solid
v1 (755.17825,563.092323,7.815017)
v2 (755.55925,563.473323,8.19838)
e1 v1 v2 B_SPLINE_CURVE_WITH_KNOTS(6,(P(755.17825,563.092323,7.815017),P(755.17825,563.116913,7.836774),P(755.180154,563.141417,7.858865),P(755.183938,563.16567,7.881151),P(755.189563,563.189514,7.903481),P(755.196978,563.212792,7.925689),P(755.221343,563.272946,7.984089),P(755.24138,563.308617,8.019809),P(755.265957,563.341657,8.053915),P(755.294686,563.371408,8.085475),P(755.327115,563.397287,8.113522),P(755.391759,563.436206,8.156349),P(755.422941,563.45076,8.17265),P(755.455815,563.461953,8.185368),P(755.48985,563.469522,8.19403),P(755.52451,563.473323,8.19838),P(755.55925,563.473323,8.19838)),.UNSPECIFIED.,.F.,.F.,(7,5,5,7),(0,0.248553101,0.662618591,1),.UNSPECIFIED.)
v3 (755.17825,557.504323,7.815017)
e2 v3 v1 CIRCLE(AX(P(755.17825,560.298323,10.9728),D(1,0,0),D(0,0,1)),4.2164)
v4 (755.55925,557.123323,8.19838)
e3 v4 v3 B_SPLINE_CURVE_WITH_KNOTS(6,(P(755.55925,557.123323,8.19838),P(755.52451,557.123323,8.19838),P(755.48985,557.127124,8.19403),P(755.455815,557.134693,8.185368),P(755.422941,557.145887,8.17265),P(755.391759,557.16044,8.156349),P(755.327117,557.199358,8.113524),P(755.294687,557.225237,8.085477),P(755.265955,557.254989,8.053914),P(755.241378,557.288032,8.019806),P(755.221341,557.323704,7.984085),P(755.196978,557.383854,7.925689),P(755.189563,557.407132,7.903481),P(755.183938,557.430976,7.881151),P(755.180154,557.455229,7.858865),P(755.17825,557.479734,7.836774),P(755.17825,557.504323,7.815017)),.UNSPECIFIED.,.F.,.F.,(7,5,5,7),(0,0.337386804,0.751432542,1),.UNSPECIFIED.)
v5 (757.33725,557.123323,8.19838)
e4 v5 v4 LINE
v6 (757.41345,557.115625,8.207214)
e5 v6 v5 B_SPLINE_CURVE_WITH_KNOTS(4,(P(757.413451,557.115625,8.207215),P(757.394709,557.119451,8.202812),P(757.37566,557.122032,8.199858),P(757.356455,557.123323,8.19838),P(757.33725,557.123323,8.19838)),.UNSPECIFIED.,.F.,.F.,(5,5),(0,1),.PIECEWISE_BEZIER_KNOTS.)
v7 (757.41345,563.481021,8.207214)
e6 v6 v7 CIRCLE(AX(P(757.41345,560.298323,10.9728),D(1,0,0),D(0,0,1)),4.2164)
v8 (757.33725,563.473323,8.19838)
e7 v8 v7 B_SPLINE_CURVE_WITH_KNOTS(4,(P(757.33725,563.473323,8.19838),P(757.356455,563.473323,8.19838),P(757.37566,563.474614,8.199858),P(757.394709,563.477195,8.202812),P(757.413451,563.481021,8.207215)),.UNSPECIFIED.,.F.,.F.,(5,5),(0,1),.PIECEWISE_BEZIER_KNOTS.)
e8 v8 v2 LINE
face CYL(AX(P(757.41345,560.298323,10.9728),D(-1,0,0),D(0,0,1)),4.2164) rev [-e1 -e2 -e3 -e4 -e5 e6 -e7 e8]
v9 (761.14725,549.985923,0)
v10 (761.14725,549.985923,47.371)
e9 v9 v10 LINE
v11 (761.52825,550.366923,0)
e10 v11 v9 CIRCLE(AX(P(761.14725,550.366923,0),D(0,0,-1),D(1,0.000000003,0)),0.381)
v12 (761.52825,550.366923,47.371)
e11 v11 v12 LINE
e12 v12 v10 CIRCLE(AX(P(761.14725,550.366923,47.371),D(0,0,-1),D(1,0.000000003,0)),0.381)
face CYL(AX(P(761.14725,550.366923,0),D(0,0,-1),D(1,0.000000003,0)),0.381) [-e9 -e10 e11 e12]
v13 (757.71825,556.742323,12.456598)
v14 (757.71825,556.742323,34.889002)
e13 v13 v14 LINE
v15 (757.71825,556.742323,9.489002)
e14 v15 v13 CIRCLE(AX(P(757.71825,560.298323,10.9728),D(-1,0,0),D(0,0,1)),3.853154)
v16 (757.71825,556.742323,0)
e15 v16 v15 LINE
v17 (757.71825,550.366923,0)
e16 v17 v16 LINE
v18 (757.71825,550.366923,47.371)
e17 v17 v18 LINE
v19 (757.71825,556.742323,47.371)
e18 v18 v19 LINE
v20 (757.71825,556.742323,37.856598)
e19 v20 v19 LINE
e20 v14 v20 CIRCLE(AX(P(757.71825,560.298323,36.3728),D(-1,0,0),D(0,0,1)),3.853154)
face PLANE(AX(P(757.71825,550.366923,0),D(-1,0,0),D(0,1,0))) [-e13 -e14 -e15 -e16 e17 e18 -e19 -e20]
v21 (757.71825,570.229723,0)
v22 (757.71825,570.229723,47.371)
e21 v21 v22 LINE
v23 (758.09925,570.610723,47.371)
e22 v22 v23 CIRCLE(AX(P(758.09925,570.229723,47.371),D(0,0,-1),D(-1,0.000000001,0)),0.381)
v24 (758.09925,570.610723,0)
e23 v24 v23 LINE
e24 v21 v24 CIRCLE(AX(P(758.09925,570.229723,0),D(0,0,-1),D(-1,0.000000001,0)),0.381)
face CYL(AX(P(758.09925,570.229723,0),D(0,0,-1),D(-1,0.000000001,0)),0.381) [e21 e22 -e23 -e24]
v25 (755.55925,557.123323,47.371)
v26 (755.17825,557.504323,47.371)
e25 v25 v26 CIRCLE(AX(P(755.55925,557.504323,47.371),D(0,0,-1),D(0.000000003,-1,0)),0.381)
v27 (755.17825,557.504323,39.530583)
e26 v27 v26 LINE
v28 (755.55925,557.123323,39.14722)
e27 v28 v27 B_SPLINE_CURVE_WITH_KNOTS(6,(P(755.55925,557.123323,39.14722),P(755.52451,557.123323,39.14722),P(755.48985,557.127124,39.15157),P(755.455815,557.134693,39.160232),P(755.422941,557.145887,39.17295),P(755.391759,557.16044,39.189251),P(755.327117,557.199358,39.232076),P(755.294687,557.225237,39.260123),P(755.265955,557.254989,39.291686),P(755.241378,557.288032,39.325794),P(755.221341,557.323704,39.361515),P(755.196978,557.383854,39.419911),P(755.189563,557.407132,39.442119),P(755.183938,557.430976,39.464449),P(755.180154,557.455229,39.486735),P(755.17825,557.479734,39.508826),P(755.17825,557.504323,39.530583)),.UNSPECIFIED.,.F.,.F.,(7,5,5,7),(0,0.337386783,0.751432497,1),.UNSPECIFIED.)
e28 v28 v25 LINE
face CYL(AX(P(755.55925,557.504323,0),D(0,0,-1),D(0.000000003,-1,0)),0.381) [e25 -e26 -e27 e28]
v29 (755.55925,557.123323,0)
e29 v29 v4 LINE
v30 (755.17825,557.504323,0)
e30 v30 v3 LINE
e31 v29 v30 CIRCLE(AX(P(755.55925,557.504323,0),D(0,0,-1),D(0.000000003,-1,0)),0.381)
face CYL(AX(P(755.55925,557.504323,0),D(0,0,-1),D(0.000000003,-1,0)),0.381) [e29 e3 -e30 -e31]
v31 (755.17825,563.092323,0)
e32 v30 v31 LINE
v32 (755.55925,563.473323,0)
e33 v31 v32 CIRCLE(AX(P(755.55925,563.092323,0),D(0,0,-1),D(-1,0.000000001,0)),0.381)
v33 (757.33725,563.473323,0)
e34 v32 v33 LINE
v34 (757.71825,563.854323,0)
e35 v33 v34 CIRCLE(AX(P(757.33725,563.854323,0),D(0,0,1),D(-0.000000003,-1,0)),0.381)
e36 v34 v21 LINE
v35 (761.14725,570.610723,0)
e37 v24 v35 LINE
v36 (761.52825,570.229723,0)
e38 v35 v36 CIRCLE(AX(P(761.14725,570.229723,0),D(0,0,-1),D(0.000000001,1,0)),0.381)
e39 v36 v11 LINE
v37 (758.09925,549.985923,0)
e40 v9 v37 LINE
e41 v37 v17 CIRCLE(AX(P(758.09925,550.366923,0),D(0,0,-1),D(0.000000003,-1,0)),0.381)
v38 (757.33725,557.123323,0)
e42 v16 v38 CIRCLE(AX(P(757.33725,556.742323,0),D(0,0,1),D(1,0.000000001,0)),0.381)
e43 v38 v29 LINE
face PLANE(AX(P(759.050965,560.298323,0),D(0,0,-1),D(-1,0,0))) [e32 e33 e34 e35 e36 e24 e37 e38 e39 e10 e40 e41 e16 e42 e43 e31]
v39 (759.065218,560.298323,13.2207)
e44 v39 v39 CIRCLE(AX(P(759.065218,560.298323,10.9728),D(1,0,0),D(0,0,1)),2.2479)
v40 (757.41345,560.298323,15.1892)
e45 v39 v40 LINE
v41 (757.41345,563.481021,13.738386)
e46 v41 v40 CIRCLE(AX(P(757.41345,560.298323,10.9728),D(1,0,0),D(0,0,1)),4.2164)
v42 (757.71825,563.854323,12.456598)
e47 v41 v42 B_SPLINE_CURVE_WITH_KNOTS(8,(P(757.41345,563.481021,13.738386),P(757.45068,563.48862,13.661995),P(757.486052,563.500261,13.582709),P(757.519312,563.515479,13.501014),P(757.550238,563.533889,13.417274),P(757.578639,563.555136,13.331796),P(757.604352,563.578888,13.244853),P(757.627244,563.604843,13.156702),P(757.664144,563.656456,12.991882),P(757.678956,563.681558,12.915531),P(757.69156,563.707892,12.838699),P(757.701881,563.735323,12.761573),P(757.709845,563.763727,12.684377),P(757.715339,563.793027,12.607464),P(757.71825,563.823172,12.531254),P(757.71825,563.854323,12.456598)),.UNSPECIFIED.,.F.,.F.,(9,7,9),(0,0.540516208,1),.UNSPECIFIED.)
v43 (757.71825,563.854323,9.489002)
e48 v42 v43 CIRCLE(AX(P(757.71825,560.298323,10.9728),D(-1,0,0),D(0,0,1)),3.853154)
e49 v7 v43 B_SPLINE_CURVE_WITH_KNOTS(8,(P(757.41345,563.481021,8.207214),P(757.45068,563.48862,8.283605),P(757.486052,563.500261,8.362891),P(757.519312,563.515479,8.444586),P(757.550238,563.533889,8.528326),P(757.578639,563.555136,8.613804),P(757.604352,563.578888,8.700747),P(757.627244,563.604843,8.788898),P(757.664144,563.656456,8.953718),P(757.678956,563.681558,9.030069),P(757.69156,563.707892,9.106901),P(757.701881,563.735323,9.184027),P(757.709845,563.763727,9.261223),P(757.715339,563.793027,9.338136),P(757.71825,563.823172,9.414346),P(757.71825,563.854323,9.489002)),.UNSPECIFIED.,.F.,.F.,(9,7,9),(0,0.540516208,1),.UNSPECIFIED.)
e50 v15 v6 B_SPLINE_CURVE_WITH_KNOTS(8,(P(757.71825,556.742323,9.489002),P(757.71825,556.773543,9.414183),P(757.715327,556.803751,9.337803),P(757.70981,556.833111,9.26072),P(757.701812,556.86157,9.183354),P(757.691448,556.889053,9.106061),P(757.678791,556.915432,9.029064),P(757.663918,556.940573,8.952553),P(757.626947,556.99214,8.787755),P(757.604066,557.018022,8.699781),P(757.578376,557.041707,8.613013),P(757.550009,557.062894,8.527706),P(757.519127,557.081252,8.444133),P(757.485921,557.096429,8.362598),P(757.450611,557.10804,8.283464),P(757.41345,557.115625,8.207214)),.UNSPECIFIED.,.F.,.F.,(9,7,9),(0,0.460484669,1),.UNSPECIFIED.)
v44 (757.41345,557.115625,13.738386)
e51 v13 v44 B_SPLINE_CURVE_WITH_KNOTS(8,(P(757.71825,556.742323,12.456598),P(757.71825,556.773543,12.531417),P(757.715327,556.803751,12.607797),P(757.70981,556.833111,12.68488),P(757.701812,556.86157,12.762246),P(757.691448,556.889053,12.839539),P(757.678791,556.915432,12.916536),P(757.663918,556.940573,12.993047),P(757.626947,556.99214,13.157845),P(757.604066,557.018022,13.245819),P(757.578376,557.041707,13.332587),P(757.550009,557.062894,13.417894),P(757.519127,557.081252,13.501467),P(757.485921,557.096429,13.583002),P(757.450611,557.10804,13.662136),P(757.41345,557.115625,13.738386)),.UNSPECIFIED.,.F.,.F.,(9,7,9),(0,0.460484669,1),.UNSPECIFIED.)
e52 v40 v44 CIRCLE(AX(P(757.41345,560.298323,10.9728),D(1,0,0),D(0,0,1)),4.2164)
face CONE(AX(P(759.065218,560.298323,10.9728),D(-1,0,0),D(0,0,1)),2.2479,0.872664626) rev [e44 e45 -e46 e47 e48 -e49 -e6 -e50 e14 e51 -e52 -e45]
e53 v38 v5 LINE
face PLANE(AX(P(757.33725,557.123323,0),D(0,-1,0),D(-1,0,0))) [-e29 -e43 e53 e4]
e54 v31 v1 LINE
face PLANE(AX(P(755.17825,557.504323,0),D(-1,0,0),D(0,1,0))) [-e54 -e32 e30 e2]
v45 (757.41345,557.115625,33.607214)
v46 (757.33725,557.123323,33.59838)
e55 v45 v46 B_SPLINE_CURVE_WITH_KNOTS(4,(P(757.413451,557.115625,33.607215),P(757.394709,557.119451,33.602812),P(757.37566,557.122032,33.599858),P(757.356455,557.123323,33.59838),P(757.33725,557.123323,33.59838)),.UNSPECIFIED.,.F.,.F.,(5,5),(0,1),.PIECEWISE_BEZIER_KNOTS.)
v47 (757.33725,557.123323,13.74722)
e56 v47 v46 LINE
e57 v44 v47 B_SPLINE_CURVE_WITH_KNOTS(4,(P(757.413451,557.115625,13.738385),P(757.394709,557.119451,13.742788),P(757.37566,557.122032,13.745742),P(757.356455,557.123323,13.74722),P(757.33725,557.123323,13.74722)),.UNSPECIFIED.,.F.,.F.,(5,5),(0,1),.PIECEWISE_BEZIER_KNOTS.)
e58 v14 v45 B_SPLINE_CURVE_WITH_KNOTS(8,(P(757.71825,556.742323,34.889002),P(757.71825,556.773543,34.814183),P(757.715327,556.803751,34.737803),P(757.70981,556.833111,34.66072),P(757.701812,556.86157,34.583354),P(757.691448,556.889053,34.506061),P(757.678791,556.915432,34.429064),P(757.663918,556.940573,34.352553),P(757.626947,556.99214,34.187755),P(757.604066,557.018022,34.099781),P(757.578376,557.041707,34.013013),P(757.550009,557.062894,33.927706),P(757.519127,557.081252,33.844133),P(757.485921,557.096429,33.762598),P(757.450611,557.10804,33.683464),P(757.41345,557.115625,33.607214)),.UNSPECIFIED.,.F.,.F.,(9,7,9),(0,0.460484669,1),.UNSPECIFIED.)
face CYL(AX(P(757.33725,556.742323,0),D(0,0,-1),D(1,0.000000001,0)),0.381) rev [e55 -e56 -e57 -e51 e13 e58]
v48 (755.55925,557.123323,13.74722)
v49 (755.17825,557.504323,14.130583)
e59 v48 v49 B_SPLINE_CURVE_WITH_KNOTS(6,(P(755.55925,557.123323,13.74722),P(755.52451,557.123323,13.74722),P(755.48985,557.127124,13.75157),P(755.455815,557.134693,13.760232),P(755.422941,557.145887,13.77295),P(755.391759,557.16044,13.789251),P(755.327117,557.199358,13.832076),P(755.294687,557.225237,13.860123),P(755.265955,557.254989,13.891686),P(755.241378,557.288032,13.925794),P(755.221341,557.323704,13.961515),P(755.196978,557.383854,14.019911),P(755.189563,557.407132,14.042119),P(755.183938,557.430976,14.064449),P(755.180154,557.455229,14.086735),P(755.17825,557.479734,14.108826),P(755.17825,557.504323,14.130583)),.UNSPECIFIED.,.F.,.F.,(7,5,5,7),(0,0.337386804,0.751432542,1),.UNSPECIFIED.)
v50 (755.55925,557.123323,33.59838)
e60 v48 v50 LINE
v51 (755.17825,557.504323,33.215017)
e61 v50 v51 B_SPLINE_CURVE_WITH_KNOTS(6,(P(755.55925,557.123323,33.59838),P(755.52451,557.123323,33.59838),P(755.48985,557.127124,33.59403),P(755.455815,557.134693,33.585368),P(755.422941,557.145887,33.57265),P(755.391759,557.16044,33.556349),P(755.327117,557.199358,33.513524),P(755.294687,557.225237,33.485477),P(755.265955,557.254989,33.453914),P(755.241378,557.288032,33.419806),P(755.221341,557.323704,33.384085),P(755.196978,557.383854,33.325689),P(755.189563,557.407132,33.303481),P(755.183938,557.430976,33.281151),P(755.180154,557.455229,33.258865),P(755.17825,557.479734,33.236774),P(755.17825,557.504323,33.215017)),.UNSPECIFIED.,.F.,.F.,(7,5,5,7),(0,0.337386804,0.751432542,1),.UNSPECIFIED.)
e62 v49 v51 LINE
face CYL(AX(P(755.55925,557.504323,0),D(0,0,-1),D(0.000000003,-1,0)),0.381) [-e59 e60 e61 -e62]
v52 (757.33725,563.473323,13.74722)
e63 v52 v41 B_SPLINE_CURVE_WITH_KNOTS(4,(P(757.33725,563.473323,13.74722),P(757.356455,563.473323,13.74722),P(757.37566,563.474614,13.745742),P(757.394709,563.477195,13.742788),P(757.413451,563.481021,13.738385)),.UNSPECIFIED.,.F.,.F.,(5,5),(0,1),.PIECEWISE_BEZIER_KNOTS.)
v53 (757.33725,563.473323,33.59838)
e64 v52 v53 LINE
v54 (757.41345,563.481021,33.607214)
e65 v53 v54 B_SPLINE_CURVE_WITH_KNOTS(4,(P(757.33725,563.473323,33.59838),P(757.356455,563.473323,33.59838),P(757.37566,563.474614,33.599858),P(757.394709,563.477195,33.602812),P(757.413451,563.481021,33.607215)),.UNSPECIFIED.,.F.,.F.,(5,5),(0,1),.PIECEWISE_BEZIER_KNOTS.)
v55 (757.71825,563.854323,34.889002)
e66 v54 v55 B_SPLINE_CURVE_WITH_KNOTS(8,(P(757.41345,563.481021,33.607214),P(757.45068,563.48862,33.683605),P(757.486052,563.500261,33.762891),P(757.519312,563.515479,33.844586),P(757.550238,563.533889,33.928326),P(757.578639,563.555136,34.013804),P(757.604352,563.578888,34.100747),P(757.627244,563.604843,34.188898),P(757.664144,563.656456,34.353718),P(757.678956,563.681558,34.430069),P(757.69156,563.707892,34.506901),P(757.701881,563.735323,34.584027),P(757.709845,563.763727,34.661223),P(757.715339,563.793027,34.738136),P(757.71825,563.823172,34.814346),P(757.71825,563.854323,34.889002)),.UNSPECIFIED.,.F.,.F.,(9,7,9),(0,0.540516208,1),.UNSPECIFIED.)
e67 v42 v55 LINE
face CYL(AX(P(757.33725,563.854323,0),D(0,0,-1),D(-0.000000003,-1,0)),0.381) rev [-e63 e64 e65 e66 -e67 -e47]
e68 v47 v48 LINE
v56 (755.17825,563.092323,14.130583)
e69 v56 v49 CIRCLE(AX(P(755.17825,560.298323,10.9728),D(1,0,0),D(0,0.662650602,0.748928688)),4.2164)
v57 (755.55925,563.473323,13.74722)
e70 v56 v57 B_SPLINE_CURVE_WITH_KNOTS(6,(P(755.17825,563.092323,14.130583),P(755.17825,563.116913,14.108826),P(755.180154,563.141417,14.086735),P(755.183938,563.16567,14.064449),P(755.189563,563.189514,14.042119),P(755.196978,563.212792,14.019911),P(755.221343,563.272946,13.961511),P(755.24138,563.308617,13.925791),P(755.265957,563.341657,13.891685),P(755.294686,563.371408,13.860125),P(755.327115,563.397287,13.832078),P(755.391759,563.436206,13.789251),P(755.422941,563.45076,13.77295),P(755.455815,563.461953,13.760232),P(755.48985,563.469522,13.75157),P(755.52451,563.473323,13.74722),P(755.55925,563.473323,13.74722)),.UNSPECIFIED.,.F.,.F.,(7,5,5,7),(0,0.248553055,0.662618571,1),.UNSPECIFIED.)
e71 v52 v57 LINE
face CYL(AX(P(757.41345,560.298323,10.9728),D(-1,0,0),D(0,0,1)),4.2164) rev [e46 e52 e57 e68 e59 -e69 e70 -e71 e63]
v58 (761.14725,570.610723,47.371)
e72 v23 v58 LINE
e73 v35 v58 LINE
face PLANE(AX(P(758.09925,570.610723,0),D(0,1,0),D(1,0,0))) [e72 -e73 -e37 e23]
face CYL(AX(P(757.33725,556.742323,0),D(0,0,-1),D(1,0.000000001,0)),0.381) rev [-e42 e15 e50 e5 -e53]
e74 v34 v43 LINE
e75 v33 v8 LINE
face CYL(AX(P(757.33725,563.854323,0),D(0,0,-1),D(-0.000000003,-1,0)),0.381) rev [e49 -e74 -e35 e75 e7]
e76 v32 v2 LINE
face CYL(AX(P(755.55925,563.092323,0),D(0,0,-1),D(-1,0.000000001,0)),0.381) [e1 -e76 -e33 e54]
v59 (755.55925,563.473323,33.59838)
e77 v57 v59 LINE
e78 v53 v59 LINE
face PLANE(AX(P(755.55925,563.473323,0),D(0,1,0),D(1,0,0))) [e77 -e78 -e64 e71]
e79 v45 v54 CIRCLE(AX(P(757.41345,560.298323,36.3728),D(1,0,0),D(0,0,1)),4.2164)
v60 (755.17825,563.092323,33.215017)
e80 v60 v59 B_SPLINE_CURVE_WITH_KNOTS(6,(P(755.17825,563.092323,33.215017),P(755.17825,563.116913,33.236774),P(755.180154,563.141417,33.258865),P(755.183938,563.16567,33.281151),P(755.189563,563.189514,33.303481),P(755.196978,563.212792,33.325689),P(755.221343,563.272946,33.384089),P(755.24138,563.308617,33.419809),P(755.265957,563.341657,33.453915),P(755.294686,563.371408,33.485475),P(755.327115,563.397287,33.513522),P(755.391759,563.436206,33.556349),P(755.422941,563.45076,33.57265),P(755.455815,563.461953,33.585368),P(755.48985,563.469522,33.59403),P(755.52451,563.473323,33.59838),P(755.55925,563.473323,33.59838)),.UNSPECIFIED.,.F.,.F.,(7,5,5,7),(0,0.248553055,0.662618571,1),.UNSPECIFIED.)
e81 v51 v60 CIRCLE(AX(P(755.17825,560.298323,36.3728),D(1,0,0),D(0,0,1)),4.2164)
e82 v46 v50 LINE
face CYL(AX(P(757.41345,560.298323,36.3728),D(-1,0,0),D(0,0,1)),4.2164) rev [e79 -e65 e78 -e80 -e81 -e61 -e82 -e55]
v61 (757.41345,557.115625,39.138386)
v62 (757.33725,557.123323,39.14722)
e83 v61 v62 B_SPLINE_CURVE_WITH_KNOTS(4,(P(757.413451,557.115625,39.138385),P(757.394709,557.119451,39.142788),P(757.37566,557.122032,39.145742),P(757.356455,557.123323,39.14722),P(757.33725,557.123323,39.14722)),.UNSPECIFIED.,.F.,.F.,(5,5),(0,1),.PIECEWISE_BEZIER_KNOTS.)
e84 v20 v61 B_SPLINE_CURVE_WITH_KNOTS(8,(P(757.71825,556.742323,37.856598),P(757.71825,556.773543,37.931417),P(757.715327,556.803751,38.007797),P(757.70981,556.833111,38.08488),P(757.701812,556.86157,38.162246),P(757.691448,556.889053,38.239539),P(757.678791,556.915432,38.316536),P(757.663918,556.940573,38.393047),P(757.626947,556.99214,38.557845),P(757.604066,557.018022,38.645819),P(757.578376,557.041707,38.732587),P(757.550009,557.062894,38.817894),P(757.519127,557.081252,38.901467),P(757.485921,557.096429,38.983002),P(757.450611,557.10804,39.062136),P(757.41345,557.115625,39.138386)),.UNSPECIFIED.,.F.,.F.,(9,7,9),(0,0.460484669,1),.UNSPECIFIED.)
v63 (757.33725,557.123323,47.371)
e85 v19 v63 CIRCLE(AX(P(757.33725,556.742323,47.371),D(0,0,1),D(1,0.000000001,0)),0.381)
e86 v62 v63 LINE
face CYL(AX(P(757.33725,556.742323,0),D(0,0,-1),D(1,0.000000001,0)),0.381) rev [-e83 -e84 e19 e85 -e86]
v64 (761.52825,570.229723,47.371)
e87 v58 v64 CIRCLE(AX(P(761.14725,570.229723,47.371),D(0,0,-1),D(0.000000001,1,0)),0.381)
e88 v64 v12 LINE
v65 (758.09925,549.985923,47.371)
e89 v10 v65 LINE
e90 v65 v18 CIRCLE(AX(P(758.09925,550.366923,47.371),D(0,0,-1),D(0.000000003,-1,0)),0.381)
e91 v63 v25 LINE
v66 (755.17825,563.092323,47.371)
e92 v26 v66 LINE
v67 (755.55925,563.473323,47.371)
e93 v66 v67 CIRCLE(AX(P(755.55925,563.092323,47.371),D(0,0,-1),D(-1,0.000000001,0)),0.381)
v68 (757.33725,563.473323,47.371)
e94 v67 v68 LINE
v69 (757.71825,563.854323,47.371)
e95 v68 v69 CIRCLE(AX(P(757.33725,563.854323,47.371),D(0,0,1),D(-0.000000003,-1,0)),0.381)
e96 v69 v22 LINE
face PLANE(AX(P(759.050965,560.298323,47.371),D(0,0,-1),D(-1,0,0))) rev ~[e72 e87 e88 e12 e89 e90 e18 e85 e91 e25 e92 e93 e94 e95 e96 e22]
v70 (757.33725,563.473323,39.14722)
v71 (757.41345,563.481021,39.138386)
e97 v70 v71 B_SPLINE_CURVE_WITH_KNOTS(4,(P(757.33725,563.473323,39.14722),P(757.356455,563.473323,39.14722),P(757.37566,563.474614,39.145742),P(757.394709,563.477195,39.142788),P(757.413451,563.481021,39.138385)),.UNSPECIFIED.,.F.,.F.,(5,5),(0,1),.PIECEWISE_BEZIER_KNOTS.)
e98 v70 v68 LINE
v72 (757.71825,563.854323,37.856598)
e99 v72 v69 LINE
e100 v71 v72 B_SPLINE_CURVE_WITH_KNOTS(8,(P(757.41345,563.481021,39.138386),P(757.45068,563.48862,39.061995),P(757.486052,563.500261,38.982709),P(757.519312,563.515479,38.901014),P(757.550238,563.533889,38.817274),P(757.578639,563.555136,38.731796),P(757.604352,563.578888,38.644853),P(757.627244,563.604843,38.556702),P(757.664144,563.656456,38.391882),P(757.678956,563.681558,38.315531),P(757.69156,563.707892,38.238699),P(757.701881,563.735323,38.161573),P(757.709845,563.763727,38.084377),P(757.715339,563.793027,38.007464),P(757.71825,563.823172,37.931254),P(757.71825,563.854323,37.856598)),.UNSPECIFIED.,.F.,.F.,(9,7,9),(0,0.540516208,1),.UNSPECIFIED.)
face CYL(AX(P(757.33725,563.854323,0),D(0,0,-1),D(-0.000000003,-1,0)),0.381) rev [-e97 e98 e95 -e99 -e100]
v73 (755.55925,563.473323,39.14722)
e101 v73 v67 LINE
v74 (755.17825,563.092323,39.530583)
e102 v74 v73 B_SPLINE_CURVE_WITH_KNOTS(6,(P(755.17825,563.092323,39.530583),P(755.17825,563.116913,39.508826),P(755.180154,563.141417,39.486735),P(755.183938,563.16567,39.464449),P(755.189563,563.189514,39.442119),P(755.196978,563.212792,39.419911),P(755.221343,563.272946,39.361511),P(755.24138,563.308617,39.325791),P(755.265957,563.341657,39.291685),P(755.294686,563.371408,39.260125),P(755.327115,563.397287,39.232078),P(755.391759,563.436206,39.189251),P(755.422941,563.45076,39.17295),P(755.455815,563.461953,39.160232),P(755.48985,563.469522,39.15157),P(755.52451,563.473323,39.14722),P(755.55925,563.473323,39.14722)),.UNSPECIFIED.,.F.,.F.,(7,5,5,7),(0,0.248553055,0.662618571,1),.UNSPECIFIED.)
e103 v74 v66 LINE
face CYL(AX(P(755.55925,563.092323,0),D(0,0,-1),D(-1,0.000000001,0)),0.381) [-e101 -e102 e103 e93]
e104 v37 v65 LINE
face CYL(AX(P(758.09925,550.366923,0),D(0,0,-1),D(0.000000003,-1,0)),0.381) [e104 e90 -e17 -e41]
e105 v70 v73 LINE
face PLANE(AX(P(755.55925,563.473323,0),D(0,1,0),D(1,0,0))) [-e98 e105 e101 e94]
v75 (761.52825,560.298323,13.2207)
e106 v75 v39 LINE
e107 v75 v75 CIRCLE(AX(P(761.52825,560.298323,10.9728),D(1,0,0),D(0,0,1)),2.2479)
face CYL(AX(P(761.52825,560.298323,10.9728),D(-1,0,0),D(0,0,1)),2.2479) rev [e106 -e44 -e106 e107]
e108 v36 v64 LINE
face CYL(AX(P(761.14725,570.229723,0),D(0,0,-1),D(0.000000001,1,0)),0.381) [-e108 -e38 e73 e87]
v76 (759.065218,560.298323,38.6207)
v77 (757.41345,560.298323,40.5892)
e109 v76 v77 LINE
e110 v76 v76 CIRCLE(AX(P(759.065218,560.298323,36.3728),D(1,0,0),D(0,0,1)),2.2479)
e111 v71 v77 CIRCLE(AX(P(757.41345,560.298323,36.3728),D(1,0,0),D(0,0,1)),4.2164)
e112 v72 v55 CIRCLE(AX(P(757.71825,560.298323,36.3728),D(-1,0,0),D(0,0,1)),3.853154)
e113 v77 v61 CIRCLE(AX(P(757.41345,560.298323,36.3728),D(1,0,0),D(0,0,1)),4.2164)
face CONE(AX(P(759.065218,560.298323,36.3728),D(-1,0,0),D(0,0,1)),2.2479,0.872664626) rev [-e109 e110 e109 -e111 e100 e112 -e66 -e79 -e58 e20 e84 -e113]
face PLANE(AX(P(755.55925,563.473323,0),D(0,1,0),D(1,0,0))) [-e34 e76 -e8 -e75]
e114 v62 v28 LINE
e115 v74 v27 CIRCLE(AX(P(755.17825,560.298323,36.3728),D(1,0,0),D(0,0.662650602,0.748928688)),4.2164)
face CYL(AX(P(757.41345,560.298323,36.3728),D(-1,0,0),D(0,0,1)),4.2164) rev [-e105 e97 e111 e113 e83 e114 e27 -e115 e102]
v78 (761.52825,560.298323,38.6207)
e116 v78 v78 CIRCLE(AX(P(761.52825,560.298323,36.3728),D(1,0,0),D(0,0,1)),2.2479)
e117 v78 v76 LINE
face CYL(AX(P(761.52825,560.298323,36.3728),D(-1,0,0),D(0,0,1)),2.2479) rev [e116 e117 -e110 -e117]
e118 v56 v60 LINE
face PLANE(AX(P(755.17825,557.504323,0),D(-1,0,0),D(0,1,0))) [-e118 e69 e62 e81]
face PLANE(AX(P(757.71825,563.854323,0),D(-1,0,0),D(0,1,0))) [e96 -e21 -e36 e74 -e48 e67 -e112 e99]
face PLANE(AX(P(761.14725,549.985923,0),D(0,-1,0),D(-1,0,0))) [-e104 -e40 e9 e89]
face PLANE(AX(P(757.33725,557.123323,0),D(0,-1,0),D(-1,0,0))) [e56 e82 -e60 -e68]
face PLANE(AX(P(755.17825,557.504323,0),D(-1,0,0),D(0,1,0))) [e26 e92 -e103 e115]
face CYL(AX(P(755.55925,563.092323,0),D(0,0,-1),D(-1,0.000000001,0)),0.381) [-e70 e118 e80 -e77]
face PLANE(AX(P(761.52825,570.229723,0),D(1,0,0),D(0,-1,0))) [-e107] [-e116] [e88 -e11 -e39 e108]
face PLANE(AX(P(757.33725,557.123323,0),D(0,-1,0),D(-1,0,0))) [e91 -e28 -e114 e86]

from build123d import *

# Parameters (mm, degrees)
EXTRUDE1_DEPTH                            = 47.371
SKETCH2_R                                 = 1.3843
CUT_EXTRUDE1_DEPTH                        = 7.35
CSK_FOR_8_FLAT_HEAD_MACHINE_SCREW_2_COUNT = 2
CSK_FOR_8_FLAT_HEAD_MACHINE_SCREW_2_PITCH = 25.4


with BuildPart() as part:
    # Sketch1 → Extrude1 (new body)
    with BuildSketch(Plane.XY):
        with BuildLine():
            Line((761.528249985, 570.229723122), (761.528249985, 550.366923122))
            ThreePointArc((761.528249985, 550.366923122), (761.416657669, 550.097515438), (761.147249985, 549.985923122))
            Line((761.147249985, 549.985923122), (758.099249985, 549.985923122))
            ThreePointArc((758.099249985, 549.985923122), (757.829842301, 550.097515438), (757.718249985, 550.366923122))
            Line((757.718249985, 550.366923122), (757.718249985, 556.742323122))
            ThreePointArc((757.718249985, 556.742323122), (757.606657669, 557.011730805), (757.337249985, 557.123323122))
            Line((757.337249985, 557.123323122), (755.559249985, 557.123323122))
            ThreePointArc((755.559249985, 557.123323122), (755.289842301, 557.234915438), (755.178249985, 557.504323122))
            Line((755.178249985, 557.504323122), (755.178249985, 563.092323122))
            ThreePointArc((755.178249985, 563.092323122), (755.289842301, 563.361730805), (755.559249985, 563.473323122))
            Line((755.559249985, 563.473323122), (757.337249985, 563.473323122))
            ThreePointArc((757.337249985, 563.473323122), (757.606657669, 563.584915438), (757.718249985, 563.854323122))
            Line((757.718249985, 563.854323122), (757.718249985, 570.229723122))
            ThreePointArc((757.718249985, 570.229723122), (757.829842301, 570.499130805), (758.099249985, 570.610723122))
            Line((758.099249985, 570.610723122), (761.147249985, 570.610723122))
            ThreePointArc((761.147249985, 570.610723122), (761.416657669, 570.499130805), (761.528249985, 570.229723122))
        make_face()
    extrude(amount=EXTRUDE1_DEPTH)

    # Sketch2 → Cut-Extrude1 (cut, through all)
    with BuildSketch(Plane.ZY.offset(-755.178249985)):
        with Locations((10.9728, 560.298323122)):
            Circle(SKETCH2_R)
        with Locations((36.3728, 560.298323122)):
            Circle(SKETCH2_R)
    extrude(amount=-CUT_EXTRUDE1_DEPTH, mode=Mode.SUBTRACT)

    # Sketch3 → CSK for #8 Flat Head Machine Screw (100)1 (revolve, cut)
    with BuildSketch(Plane(origin=(755.178249985, 560.298323122, 10.9728), x_dir=(0, 0, 1), z_dir=(0, 1, 0))):
        Polygon((0, 0), (0, 6.35), (2.2479, 6.35), (2.2479, 3.886967624), (4.2164, 2.2352), (4.2164, 0), align=None)
    csk_for_8_flat_head_machine_screw_100 = revolve(axis=Axis((748.828249985, 560.298323122, 10.9728), (1, 0, 0)), mode=Mode.SUBTRACT)

    # CSK for _8 Flat Head Machine Screw _ 2: CSK for #8 Flat Head Machine Screw (100)1 ×2
    with Locations(*[(0, 0, i * CSK_FOR_8_FLAT_HEAD_MACHINE_SCREW_2_PITCH) for i in range(1, CSK_FOR_8_FLAT_HEAD_MACHINE_SCREW_2_COUNT)]):
        add(csk_for_8_flat_head_machine_screw_100, mode=Mode.SUBTRACT)


solid = part.part
